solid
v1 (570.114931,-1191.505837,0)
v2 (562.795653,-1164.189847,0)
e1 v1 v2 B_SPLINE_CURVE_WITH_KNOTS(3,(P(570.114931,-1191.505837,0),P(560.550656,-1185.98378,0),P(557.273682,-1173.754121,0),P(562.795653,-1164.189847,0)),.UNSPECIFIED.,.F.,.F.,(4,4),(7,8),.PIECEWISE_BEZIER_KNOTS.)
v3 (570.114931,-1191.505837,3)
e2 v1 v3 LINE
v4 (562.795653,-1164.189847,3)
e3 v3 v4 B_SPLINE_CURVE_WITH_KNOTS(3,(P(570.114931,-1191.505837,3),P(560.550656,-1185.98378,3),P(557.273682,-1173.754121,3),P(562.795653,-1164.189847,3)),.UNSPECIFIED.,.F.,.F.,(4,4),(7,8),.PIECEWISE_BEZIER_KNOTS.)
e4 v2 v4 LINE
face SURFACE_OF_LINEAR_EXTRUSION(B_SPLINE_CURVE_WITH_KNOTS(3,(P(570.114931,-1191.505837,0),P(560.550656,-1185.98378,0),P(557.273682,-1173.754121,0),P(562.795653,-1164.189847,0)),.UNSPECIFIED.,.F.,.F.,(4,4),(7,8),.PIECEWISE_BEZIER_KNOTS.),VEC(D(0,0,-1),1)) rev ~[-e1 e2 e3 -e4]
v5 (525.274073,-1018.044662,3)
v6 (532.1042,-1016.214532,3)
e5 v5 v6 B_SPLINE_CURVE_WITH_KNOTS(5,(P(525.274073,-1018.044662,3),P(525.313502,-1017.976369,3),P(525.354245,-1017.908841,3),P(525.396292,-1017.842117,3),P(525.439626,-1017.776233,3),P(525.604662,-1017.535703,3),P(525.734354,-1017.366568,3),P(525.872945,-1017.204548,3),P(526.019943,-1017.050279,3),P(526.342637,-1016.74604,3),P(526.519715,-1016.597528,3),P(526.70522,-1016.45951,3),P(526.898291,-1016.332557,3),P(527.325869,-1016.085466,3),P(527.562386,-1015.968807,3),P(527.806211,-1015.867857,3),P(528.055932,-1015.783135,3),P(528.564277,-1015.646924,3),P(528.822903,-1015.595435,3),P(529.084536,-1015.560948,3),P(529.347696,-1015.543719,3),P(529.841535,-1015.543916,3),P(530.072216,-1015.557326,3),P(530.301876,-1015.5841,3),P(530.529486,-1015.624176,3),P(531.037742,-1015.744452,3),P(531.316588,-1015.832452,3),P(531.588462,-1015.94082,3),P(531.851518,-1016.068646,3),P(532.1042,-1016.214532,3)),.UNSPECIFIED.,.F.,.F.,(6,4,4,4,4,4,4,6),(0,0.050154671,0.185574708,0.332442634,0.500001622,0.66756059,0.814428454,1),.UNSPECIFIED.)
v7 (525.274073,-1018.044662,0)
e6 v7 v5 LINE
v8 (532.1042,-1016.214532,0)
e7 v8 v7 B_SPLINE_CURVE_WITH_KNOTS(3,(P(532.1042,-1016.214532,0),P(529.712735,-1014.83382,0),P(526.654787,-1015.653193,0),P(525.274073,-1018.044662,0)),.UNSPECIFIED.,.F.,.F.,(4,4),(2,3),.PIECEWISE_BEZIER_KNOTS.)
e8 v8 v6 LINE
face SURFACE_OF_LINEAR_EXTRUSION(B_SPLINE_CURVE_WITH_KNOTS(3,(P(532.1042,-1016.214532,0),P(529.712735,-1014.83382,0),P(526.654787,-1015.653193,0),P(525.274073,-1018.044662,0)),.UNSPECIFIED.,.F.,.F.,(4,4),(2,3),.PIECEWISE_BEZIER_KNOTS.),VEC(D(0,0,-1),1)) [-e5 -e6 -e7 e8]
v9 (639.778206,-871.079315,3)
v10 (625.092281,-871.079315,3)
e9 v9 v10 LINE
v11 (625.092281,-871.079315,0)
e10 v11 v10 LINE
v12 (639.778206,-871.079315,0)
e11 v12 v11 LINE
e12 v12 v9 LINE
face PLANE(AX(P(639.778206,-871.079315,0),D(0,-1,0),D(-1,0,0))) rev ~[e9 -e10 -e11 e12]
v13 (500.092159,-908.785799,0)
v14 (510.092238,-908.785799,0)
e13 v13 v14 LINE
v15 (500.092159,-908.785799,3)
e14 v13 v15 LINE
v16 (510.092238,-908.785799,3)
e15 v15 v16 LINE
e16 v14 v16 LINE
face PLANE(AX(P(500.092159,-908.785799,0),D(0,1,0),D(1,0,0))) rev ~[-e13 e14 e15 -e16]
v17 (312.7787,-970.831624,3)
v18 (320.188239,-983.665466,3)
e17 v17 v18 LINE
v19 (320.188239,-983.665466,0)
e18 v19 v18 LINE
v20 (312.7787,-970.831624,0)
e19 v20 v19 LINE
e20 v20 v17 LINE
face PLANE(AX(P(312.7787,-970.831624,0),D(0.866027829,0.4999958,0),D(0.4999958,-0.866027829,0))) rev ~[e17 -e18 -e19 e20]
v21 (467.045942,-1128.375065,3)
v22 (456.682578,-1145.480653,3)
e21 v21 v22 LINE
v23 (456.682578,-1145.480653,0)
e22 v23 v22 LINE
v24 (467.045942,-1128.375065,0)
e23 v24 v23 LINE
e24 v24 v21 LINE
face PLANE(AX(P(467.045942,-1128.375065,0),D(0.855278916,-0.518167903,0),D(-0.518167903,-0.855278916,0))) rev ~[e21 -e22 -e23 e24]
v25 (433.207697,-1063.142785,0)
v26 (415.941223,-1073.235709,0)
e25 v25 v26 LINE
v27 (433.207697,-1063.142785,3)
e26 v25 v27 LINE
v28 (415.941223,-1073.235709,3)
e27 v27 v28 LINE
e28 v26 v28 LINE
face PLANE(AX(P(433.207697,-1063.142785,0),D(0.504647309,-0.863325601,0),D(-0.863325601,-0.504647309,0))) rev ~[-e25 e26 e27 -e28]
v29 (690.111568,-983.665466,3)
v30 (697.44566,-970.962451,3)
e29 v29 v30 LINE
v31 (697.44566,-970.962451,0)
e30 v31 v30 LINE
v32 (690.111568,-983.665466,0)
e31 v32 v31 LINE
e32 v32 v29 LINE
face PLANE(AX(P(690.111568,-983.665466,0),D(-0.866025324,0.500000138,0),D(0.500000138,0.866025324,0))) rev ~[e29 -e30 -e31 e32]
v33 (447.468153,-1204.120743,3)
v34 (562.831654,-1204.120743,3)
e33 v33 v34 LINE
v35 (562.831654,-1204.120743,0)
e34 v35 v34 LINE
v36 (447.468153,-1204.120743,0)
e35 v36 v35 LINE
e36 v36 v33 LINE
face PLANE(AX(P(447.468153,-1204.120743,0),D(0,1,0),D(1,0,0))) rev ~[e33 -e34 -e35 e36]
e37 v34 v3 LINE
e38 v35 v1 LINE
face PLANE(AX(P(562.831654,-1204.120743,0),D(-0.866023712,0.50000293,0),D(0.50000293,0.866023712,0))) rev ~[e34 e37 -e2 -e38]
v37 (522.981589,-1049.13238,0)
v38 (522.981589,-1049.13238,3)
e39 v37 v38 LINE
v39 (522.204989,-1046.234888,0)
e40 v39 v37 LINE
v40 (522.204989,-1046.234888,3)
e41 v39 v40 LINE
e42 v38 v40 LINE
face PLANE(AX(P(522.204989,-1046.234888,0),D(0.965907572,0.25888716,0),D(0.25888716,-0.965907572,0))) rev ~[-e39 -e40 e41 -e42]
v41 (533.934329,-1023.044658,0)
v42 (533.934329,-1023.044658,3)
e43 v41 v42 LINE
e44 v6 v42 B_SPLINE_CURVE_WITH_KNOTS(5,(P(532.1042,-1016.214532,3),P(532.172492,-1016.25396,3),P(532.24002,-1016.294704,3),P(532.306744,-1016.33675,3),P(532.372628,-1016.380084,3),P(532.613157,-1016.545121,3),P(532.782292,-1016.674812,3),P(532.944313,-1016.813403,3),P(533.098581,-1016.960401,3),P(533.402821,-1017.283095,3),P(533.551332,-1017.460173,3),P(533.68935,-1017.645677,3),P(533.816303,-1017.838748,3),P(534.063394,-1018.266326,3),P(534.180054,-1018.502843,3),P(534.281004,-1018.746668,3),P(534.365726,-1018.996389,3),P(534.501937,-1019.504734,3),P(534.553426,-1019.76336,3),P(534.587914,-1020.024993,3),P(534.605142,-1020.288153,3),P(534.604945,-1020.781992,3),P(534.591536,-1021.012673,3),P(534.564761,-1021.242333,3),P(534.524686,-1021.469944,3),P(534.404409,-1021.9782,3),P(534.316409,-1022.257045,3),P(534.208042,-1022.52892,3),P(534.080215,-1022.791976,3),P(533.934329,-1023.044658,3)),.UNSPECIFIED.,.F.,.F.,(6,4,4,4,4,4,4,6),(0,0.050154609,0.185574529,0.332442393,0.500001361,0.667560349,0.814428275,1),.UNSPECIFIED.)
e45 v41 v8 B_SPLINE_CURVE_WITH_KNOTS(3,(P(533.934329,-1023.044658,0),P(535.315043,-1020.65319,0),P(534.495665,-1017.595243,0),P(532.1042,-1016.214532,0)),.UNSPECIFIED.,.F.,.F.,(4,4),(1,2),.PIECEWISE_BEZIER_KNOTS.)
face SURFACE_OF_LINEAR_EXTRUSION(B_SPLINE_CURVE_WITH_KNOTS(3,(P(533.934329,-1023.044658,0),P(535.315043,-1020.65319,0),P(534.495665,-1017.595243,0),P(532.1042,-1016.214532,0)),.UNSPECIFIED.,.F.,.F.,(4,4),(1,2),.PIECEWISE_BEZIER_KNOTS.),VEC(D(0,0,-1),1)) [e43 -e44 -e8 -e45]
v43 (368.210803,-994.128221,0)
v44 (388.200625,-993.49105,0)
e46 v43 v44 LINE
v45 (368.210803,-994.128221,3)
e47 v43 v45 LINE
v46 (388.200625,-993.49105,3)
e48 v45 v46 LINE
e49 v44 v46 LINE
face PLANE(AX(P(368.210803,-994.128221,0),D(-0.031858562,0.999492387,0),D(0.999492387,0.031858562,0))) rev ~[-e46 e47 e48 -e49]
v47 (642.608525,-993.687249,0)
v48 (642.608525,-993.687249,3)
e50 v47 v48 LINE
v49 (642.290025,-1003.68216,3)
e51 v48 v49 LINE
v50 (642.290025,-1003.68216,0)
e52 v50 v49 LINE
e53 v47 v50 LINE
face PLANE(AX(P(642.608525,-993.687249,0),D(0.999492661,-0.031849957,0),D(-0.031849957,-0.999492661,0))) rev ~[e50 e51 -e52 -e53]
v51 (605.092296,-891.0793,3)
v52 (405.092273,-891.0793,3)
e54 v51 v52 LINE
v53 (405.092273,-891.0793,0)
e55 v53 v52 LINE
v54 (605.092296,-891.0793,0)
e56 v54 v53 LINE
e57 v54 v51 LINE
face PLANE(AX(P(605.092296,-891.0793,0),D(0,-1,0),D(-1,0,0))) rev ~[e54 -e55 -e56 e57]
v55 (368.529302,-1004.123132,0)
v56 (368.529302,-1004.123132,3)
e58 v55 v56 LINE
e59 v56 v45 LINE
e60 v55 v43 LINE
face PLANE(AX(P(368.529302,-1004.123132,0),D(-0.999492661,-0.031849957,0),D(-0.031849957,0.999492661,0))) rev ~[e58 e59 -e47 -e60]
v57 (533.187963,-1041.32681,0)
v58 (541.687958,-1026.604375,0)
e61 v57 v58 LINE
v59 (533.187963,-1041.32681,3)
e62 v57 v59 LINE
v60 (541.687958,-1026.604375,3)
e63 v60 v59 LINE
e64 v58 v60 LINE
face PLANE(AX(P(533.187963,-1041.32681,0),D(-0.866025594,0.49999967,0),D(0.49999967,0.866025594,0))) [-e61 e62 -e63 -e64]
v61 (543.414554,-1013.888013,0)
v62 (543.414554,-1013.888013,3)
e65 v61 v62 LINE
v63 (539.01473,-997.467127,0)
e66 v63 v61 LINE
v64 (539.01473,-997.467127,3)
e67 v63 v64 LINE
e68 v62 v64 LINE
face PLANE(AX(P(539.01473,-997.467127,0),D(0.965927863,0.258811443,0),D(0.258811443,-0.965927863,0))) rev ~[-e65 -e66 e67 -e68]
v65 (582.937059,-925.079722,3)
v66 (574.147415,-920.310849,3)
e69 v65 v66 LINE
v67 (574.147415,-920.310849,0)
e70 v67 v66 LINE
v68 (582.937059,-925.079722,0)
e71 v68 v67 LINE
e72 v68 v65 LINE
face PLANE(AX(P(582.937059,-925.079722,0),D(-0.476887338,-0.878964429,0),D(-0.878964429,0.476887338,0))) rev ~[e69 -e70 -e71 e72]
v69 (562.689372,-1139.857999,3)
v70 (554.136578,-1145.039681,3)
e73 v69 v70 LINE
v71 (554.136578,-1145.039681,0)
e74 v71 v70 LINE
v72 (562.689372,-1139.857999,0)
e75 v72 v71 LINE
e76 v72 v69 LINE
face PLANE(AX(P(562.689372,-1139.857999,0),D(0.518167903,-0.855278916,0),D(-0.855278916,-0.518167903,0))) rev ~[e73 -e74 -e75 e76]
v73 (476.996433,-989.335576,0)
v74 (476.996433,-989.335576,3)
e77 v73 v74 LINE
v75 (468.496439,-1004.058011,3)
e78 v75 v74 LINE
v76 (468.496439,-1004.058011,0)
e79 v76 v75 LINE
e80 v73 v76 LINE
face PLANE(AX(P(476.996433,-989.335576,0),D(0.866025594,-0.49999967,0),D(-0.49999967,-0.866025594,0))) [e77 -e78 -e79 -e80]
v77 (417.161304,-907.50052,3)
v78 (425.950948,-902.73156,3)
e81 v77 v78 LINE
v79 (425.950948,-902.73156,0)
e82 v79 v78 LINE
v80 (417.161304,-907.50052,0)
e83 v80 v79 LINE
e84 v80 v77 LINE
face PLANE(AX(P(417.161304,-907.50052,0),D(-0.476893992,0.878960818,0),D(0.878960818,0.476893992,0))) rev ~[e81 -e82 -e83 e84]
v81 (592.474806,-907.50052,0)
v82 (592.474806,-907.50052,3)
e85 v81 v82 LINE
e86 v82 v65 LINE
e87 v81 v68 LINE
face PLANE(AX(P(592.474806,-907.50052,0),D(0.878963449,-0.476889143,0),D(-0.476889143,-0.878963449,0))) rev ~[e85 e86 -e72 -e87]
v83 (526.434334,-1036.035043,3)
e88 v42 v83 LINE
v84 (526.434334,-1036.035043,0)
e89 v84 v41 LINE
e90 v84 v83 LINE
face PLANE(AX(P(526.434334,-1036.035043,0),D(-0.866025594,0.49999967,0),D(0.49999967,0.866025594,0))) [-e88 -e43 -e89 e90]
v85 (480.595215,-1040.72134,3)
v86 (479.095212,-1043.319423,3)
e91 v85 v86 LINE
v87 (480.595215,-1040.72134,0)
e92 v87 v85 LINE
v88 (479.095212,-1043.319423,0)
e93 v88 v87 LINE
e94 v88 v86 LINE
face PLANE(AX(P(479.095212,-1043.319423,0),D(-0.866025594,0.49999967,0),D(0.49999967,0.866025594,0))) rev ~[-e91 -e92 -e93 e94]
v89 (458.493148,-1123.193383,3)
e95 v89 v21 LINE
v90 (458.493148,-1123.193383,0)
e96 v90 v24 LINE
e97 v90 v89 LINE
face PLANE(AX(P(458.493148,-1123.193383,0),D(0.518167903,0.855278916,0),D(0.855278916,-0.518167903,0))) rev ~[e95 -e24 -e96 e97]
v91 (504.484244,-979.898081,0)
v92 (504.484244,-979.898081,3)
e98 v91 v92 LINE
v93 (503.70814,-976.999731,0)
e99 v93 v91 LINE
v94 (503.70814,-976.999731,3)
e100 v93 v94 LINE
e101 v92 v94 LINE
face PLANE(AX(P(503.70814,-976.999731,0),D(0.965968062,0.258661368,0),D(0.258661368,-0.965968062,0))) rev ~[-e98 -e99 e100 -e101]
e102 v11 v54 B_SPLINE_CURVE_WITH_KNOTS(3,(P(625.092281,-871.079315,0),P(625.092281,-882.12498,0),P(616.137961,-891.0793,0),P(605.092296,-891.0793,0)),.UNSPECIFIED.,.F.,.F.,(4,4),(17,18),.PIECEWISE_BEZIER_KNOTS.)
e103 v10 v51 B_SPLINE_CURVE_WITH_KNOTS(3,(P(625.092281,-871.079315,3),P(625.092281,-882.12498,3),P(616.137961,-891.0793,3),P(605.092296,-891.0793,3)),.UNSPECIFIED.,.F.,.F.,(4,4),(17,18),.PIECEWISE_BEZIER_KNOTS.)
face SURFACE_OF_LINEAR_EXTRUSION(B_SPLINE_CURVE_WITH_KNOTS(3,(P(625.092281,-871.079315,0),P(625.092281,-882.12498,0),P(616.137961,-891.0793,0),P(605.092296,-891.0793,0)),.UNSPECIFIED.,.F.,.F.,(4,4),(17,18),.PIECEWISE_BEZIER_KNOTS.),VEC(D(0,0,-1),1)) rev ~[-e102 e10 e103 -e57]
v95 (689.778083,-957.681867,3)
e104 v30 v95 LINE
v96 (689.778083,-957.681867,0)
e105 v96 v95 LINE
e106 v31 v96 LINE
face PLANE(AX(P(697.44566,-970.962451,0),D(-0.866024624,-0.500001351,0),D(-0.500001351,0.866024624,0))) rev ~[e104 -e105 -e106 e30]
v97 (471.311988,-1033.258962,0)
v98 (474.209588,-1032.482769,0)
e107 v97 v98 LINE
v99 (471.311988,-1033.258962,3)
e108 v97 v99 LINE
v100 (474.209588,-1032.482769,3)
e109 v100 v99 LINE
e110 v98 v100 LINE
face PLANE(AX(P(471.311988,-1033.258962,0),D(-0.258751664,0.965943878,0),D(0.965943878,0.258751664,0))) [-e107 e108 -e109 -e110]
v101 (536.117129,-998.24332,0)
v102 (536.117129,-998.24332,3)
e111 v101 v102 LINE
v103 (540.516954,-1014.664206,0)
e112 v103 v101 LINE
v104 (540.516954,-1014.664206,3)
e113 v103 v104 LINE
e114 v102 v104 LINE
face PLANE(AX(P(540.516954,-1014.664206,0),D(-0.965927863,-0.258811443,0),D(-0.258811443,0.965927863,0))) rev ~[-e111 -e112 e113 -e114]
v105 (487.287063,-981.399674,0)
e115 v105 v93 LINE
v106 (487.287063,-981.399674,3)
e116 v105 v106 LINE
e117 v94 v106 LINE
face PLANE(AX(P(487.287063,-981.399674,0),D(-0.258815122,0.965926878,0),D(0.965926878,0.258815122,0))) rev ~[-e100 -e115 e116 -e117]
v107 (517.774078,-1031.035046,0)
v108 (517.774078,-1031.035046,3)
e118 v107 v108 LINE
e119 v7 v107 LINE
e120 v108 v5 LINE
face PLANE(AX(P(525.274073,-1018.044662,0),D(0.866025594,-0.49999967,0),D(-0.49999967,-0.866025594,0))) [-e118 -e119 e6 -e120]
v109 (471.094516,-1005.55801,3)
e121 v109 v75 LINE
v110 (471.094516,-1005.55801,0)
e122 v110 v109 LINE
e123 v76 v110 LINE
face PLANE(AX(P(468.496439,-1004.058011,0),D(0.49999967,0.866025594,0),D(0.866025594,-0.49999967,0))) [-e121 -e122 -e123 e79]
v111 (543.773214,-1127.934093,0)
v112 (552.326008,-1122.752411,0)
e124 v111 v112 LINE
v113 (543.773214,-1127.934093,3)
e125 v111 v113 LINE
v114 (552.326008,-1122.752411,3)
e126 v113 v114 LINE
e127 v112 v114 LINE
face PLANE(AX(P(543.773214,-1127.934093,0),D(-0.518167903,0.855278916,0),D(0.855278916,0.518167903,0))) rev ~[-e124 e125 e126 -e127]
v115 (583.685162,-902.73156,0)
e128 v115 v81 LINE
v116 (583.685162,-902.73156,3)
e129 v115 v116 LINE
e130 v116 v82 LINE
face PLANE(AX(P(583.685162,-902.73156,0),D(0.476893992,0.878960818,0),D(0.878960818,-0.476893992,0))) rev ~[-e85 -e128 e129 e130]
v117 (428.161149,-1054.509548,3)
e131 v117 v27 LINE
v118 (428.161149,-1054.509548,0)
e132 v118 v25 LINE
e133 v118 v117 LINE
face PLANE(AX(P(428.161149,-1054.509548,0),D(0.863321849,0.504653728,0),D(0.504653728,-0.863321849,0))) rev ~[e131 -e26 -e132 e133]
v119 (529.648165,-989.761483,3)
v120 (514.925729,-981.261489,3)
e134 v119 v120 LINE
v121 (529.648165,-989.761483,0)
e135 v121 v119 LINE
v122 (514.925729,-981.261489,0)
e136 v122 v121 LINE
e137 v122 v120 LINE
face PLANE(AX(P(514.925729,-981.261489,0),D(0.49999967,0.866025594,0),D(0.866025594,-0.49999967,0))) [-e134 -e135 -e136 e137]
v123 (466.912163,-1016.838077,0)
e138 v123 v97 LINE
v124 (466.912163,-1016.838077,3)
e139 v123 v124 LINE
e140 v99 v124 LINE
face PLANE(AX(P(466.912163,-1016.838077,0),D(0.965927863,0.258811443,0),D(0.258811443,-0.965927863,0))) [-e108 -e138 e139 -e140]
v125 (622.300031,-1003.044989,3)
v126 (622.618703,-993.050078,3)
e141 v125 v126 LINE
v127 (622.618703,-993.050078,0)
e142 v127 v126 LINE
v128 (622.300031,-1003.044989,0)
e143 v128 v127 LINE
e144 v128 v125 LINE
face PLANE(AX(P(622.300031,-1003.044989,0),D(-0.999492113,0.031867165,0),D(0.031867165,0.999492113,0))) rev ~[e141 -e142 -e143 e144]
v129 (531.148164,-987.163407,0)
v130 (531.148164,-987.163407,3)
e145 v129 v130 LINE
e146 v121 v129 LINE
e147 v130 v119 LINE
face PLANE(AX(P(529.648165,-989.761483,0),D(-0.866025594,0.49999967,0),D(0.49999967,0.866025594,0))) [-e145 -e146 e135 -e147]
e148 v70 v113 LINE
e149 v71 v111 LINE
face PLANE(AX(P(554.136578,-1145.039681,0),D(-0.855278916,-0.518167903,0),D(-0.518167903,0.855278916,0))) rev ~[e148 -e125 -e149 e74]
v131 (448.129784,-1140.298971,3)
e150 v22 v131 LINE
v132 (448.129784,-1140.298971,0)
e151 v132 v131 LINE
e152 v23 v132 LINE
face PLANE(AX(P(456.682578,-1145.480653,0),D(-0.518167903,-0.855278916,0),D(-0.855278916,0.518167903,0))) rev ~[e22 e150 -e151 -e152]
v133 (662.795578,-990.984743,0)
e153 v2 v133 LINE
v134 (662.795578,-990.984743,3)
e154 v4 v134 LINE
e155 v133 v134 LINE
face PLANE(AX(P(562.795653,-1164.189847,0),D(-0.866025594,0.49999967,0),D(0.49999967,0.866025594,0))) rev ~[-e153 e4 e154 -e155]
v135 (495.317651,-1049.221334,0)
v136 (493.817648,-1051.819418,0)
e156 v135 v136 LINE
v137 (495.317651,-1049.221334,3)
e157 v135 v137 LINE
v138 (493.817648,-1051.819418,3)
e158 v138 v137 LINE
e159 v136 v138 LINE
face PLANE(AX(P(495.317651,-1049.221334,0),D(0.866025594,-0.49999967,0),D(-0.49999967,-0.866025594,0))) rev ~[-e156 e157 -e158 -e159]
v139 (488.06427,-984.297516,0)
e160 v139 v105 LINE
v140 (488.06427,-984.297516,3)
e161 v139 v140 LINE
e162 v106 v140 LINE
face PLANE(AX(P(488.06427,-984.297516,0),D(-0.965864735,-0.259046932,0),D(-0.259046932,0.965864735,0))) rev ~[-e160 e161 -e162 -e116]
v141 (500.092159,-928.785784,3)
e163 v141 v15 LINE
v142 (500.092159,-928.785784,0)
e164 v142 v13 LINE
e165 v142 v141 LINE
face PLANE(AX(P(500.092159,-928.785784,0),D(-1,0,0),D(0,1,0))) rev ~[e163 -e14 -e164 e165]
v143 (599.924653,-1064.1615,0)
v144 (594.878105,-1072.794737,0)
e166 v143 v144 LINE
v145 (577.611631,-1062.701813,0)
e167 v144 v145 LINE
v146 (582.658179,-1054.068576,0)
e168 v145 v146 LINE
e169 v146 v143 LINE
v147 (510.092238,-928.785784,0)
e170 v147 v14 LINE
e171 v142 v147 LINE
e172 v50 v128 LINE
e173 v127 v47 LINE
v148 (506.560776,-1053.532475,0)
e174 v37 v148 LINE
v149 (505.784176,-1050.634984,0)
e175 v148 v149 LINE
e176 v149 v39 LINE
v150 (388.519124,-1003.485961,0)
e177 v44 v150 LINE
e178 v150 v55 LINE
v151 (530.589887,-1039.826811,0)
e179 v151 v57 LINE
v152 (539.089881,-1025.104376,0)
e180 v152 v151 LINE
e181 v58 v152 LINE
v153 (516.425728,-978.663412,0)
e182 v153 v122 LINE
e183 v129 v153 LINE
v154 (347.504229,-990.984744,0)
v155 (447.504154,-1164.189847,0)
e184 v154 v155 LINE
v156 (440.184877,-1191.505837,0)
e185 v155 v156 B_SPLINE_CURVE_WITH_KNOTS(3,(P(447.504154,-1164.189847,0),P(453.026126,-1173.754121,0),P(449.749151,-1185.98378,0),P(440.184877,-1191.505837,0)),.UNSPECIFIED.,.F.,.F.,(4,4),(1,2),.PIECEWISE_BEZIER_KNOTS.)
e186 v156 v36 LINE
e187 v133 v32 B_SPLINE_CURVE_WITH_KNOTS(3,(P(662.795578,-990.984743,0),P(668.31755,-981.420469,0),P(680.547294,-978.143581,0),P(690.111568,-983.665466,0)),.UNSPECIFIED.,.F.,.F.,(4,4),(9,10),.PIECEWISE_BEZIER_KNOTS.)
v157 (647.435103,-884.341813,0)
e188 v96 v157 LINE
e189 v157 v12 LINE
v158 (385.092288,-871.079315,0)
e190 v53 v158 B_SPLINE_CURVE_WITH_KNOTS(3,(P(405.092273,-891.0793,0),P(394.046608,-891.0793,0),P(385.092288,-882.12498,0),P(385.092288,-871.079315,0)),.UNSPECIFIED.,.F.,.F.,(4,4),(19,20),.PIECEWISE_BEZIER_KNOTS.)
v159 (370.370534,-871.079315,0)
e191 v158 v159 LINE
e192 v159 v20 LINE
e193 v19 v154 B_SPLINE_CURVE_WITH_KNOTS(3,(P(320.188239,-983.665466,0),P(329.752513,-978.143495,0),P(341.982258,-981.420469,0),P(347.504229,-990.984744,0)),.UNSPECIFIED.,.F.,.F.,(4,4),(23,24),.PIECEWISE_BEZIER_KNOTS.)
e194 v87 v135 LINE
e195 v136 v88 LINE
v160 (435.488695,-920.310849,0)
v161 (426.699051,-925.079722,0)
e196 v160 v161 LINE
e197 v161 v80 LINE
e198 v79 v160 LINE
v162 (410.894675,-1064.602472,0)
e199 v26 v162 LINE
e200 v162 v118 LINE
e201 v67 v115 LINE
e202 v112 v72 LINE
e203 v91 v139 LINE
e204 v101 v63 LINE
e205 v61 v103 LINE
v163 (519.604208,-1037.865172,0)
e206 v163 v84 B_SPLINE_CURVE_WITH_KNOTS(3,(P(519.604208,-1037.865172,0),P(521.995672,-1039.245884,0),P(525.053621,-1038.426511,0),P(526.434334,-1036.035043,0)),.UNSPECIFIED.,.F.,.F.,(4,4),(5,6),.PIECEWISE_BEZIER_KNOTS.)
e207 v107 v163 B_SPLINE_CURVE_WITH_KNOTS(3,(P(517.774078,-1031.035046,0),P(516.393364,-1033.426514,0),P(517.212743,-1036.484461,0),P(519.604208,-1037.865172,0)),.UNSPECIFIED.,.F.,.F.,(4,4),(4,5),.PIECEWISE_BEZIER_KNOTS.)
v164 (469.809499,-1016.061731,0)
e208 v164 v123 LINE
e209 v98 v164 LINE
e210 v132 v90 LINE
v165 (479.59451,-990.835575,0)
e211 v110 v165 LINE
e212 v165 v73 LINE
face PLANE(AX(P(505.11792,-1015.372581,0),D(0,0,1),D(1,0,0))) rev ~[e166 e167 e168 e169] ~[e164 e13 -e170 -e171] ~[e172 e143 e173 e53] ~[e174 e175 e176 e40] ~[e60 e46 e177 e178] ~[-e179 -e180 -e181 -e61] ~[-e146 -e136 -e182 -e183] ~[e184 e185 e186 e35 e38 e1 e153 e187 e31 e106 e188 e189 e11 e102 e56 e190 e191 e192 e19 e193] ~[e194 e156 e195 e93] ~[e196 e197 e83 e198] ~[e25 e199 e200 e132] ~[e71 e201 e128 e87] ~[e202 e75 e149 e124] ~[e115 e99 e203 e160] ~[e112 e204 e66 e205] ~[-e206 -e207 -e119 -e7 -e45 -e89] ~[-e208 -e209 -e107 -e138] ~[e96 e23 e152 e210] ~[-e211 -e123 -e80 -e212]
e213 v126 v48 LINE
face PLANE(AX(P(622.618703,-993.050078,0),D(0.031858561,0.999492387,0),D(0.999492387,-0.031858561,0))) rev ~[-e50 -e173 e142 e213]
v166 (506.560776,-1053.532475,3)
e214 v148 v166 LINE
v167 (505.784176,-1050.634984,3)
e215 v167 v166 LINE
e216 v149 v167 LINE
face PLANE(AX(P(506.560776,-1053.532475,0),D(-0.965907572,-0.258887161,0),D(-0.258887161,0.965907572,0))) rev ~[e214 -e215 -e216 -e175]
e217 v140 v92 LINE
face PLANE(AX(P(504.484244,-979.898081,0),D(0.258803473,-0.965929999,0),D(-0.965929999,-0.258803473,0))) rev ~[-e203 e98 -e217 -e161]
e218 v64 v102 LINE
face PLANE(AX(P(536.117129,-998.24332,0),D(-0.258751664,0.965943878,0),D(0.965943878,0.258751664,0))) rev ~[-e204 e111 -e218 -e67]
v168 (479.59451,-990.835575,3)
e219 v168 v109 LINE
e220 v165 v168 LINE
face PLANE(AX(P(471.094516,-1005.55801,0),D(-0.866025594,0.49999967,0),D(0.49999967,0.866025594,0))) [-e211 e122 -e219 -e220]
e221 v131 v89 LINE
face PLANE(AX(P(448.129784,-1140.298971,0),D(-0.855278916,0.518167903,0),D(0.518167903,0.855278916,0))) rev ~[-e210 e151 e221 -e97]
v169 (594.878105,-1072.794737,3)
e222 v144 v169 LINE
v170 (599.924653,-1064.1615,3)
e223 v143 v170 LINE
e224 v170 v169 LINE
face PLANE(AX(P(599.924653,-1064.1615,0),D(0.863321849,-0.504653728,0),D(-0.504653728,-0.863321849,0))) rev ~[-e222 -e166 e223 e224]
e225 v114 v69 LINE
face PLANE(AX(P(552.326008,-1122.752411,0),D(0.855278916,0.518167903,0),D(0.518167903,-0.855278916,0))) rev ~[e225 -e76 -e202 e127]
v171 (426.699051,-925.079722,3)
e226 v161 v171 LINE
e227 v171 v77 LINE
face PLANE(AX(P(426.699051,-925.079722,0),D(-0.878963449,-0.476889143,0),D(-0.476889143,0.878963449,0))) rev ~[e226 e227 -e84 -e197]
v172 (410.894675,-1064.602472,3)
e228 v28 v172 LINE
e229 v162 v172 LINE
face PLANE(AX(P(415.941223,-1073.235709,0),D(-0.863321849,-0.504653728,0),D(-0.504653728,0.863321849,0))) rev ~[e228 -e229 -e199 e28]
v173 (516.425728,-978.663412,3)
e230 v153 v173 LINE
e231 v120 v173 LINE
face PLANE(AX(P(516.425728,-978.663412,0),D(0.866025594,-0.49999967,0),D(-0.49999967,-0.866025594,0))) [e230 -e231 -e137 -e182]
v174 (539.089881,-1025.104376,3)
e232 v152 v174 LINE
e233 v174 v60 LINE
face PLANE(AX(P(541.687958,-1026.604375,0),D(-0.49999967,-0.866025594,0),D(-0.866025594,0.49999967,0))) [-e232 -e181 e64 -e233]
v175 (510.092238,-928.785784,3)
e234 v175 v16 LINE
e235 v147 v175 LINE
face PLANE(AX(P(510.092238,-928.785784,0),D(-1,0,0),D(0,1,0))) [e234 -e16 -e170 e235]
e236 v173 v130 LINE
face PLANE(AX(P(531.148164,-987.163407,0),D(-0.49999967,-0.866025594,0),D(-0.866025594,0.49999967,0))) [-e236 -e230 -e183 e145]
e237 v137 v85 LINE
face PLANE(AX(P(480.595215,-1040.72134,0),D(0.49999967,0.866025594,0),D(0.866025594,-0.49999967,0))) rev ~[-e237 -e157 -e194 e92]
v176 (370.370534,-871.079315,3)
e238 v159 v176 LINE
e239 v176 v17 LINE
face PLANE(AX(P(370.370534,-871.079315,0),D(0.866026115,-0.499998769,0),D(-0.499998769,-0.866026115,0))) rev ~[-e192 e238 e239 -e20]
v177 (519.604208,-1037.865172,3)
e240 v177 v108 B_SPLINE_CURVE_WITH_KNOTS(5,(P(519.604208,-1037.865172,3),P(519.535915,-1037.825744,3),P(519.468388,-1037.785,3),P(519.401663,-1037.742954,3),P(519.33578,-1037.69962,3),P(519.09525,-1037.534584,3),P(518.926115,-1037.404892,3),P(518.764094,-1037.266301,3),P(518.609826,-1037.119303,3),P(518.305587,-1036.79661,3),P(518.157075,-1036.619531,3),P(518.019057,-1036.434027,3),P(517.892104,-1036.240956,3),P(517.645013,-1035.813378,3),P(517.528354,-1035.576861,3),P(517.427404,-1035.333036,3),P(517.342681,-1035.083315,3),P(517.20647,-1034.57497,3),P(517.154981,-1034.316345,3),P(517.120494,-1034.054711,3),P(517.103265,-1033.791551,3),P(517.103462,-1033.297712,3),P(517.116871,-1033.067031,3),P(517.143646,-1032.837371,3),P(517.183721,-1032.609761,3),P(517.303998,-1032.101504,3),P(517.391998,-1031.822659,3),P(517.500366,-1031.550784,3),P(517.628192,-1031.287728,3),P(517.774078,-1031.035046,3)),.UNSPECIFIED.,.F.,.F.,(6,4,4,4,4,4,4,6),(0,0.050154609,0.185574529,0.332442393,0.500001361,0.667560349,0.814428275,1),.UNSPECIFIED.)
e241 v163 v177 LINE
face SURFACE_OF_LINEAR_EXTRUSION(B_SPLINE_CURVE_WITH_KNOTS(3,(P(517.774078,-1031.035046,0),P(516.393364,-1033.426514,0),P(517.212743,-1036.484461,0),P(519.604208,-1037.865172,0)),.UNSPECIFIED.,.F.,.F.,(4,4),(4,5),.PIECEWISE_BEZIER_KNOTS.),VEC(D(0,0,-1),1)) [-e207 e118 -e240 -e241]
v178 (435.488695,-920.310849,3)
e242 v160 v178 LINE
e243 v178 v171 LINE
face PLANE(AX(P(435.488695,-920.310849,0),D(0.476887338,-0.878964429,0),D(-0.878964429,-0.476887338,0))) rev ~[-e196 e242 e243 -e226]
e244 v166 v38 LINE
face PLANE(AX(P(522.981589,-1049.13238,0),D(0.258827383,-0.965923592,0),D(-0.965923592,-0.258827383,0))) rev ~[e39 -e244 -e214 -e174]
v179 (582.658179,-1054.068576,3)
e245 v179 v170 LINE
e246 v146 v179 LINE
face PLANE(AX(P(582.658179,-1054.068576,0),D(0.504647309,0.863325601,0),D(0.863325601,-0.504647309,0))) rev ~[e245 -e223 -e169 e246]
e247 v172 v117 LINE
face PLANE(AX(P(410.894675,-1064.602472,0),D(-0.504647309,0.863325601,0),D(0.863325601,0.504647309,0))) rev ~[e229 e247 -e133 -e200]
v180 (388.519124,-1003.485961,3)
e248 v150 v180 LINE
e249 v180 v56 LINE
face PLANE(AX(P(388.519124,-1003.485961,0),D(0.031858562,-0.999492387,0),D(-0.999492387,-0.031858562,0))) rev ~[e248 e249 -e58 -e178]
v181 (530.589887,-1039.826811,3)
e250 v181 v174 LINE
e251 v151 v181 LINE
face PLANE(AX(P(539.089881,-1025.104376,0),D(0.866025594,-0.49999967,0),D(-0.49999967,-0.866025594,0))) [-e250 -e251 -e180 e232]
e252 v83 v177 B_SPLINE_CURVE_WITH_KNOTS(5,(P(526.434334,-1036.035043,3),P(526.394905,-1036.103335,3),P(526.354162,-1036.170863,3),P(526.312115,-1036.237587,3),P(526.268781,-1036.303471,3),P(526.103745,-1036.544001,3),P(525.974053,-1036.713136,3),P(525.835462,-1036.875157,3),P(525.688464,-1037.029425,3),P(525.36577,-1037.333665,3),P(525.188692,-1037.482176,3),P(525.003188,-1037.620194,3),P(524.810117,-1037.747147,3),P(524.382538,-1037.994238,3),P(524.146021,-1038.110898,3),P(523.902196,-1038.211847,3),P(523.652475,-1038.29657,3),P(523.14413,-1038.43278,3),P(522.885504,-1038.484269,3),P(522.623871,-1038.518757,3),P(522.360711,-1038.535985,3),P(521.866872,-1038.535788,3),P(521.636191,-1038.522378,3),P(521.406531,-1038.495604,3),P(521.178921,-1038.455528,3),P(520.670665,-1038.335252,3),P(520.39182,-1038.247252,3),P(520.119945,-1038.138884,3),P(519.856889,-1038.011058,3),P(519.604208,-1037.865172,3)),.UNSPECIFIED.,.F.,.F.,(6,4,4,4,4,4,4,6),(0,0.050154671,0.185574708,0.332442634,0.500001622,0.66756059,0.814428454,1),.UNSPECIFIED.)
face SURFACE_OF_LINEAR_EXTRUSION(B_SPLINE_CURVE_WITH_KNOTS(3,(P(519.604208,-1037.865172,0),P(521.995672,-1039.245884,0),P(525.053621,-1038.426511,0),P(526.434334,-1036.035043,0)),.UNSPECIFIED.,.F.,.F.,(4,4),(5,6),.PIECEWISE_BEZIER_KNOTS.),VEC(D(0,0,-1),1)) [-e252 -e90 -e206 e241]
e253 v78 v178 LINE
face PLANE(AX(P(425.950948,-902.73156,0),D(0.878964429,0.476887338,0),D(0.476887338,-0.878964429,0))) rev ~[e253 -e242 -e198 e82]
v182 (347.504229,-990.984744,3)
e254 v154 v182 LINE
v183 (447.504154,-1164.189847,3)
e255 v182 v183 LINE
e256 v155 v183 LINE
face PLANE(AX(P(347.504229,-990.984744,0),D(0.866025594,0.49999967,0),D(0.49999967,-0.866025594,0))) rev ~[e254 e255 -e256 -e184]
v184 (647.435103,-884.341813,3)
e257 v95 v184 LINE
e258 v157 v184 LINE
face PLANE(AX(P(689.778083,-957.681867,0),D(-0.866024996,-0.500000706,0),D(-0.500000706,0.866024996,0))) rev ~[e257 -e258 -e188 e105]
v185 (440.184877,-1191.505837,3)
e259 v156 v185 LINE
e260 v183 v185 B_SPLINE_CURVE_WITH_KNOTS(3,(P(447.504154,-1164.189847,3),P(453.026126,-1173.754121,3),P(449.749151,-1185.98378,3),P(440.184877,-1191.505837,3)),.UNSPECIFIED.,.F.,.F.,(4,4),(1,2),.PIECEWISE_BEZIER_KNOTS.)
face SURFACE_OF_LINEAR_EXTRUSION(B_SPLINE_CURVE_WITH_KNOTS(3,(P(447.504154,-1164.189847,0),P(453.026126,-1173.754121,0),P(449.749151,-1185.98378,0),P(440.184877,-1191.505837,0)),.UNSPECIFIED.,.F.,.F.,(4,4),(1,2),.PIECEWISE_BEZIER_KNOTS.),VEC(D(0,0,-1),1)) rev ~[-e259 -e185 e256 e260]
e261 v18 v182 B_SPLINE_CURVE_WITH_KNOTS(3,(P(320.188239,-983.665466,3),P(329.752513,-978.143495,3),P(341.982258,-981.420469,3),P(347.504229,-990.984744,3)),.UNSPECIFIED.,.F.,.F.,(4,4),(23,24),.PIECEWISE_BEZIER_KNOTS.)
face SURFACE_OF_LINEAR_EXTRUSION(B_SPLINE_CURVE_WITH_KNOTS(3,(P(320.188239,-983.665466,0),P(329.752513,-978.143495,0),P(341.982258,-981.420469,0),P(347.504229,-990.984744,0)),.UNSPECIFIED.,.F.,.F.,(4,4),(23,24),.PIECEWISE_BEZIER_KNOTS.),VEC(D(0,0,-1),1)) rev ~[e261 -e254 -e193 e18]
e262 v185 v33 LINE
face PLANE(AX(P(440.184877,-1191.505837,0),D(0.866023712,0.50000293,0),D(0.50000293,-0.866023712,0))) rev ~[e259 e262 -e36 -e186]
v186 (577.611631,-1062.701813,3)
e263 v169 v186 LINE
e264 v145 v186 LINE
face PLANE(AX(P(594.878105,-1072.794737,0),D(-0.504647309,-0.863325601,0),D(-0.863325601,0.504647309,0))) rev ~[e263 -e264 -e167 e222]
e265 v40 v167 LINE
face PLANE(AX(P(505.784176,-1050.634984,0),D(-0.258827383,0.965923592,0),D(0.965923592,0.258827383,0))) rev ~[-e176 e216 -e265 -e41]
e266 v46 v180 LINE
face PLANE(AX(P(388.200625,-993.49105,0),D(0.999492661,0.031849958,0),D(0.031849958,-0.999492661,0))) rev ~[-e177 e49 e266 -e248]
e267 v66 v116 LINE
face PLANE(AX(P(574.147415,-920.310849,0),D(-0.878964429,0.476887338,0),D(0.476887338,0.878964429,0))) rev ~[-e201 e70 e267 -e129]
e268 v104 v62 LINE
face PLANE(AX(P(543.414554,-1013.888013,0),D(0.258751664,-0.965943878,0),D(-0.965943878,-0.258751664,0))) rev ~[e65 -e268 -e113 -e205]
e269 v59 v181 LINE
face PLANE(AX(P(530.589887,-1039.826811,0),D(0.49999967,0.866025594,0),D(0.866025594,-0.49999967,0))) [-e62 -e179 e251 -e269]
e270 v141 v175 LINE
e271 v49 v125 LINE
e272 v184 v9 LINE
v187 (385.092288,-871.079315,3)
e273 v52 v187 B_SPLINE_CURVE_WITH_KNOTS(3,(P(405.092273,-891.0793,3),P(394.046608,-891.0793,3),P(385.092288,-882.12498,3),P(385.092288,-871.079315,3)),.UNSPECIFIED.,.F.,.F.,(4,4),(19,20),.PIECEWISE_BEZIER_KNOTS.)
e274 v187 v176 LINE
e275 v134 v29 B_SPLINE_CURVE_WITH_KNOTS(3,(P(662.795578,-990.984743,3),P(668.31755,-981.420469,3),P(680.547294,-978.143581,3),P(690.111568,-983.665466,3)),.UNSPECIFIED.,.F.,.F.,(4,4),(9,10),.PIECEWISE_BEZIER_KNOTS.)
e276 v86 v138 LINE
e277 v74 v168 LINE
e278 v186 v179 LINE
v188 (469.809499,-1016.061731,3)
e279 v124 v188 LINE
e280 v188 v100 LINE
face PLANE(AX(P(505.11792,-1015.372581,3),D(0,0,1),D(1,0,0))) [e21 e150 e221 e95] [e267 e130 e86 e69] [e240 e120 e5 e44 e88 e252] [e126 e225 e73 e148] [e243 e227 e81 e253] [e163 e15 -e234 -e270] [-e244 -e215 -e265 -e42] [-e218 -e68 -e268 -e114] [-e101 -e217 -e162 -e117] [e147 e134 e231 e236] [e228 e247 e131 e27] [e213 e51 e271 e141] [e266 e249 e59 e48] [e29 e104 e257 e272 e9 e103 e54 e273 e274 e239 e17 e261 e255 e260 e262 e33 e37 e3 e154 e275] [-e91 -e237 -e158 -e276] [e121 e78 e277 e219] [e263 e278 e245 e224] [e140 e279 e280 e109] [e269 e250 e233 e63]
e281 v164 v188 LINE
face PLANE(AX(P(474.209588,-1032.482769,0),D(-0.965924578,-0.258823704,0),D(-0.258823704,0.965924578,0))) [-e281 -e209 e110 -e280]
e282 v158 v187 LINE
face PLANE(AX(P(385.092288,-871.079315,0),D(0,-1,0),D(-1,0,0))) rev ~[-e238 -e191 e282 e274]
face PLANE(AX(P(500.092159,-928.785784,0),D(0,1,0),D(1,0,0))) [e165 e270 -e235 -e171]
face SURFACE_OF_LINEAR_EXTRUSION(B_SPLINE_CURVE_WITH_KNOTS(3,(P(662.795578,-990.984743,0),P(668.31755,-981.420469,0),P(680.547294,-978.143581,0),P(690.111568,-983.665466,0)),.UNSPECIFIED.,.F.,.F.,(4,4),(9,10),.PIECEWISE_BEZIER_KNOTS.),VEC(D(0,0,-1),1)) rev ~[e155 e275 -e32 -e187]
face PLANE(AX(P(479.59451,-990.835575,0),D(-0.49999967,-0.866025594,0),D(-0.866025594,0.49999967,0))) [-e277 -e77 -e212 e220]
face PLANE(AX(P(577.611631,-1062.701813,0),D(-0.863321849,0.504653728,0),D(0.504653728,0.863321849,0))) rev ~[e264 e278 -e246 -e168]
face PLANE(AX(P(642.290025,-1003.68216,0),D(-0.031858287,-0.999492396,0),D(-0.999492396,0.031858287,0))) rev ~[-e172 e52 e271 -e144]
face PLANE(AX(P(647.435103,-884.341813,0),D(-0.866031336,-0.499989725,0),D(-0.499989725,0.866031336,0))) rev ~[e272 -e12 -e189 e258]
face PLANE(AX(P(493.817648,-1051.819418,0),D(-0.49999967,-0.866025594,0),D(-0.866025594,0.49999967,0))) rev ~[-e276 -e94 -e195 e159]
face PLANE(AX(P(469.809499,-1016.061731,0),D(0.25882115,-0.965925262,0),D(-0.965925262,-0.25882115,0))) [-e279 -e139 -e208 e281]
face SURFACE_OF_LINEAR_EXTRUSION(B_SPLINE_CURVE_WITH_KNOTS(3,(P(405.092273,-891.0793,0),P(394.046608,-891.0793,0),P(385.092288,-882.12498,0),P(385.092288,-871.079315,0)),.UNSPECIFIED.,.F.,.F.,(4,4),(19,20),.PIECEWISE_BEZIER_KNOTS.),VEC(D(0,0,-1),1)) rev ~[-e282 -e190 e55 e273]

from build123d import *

# Parameters (mm, degrees)
MODEL_W                 = 10.000078668
MODEL_H                 = 19.99998508
BOSS_EXTRU_1_DEPTH      = 3
ENL_V_MAT_EXTRU_2_DEPTH = 1392.526576556


with BuildPart() as part:
    # Model → Boss.-Extru.1 (new body)
    with BuildSketch(Plane.XY):
        with BuildLine():
            Line((347.504229039, -990.984743501), (447.504154456, -1164.189847387))
            add(Edge.make_bspline(
                [(447.504154456, -1164.189847387), (453.026125757, -1173.754121475), (449.749150931, -1185.983779814), (440.184876843, -1191.505837242)],
                knots=[1, 1, 1, 1, 2, 2, 2, 2], degree=3))
            Line((440.184876843, -1191.505837242), (447.468153212, -1204.120743383))
            Line((447.468153212, -1204.120743383), (462.904937066, -1204.120743383))
            Line((462.904937066, -1204.120743383), (547.394870334, -1204.120743383))
            Line((547.394870334, -1204.120743383), (562.831654188, -1204.120743383))
            Line((562.831654188, -1204.120743383), (570.114930554, -1191.505837241))
            add(Edge.make_bspline(
                [(570.114930554, -1191.505837241), (560.550656465, -1185.983779815), (557.273681638, -1173.754121476), (562.795652937, -1164.189847387)],
                knots=[7, 7, 7, 7, 8, 8, 8, 8], degree=3))
            Line((562.795652937, -1164.189847387), (662.795578323, -990.984743483))
            add(Edge.make_bspline(
                [(662.795578323, -990.984743483), (668.317549622, -981.420469394), (680.547294088, -978.143580694), (690.111568177, -983.665465865)],
                knots=[9, 9, 9, 9, 10, 10, 10, 10], degree=3))
            Line((690.111568177, -983.665465865), (697.445659701, -970.962451406))
            Line((697.445659701, -970.962451406), (689.778082931, -957.6818667))
            Line((689.778082931, -957.6818667), (647.435103324, -884.341812722))
            Line((647.435103324, -884.341812722), (639.77820635, -871.079314757))
            Line((639.77820635, -871.079314757), (625.092281057, -871.079314757))
            add(Edge.make_bspline(
                [(625.092281057, -871.079314757), (625.092281058, -882.124979905), (616.137961126, -891.079299838), (605.092295979, -891.079299839)],
                knots=[17, 17, 17, 17, 18, 18, 18, 18], degree=3))
            Line((605.092295979, -891.079299839), (405.092272921, -891.079299839))
            add(Edge.make_bspline(
                [(405.092272921, -891.079299839), (394.046607773, -891.07929984), (385.09228784, -882.124979908), (385.092287839, -871.079314761)],
                knots=[19, 19, 19, 19, 20, 20, 20, 20], degree=3))
            Line((385.092287839, -871.079314761), (370.370533553, -871.079314761))
            Line((370.370533553, -871.079314761), (312.778700066, -970.831623929))
            Line((312.778700066, -970.831623929), (320.188239184, -983.665465888))
            add(Edge.make_bspline(
                [(320.188239184, -983.665465888), (329.752513272, -978.143494587), (341.982257738, -981.420469413), (347.504229039, -990.984743501)],
                knots=[23, 23, 23, 23, 24, 24, 24, 24], degree=3))
        make_face()
        Polygon((622.618702509, -993.05007822), (642.608524558, -993.687248628), (642.290025481, -1003.682159653), (622.300031178, -1003.044989244), align=None, mode=Mode.SUBTRACT)
        Polygon((594.878104643, -1072.794736968), (577.611630575, -1062.701812979), (582.658178697, -1054.068575945), (599.924652765, -1064.161499934), align=None, mode=Mode.SUBTRACT)
        Polygon((583.685161648, -902.731560157), (592.474806017, -907.50051971), (582.937059165, -925.079722321), (574.147414796, -920.310848895), align=None, mode=Mode.SUBTRACT)
        Polygon((552.326007751, -1122.752411126), (562.689371739, -1139.857999232), (554.136577686, -1145.039681226), (543.773213697, -1127.93409312), align=None, mode=Mode.SUBTRACT)
        with Locations((505.092198326, -918.785791257)):
            Rectangle(MODEL_W, MODEL_H, mode=Mode.SUBTRACT)
        Polygon((458.493147779, -1123.193383356), (467.045941833, -1128.375065349), (456.682577848, -1145.480653457), (448.129783794, -1140.298971465), align=None, mode=Mode.SUBTRACT)
        Polygon((425.950948052, -902.731560171), (435.488694907, -920.310848907), (426.699050539, -925.079722335), (417.161303684, -907.500519726), align=None, mode=Mode.SUBTRACT)
        Polygon((428.161149075, -1054.509548181), (433.207697199, -1063.142785214), (415.941223133, -1073.235709206), (410.894675009, -1064.602472173), align=None, mode=Mode.SUBTRACT)
        Polygon((388.200625252, -993.491050463), (388.519124331, -1003.485961487), (368.529302282, -1004.123131899), (368.210803204, -994.128220875), align=None, mode=Mode.SUBTRACT)
    extrude(amount=BOSS_EXTRU_1_DEPTH)

    # Esquisse2 → Enlèv. mat.-Extru.2 (cut, through all)
    with BuildSketch(Plane(origin=(0, 0, 0), x_dir=(-1, 0, 0), z_dir=(0, 0, -1))):
        with BuildLine():
            Line((-526.434334105, -1036.035042627), (-533.934329365, -1023.044658352))
            add(Edge.make_bspline(
                [(-533.934329365, -1023.044658352), (-535.315042909, -1020.653190239), (-534.495664502, -1017.595243477), (-532.104199693, -1016.21453184)],
                knots=[1, 1, 1, 1, 2, 2, 2, 2], degree=3))
            add(Edge.make_bspline(
                [(-532.104199693, -1016.21453184), (-529.712734884, -1014.833820204), (-526.654786726, -1015.653193399), (-525.274073182, -1018.044661512)],
                knots=[2, 2, 2, 2, 3, 3, 3, 3], degree=3))
            Line((-525.274073182, -1018.044661512), (-517.774077922, -1031.035045787))
            add(Edge.make_bspline(
                [(-517.774077922, -1031.035045787), (-516.393364378, -1033.4265139), (-517.212742785, -1036.484460663), (-519.604207594, -1037.865172299)],
                knots=[4, 4, 4, 4, 5, 5, 5, 5], degree=3))
            add(Edge.make_bspline(
                [(-519.604207594, -1037.865172299), (-521.995672403, -1039.245883936), (-525.053620562, -1038.42651074), (-526.434334105, -1036.035042627)],
                knots=[5, 5, 5, 5, 6, 6, 6, 6], degree=3))
        make_face()
        Polygon((-466.912163294, -1016.838076711), (-471.311987833, -1033.258962352), (-474.209588183, -1032.482769314), (-469.809499355, -1016.061731085), align=None)
        Polygon((-505.784176347, -1050.63498378), (-522.204989382, -1046.234888271), (-522.981588875, -1049.132379712), (-506.560775841, -1053.532475221), align=None)
        Polygon((-543.414554373, -1013.888013101), (-540.516954023, -1014.664206139), (-536.117129484, -998.243320497), (-539.014729835, -997.467127459), align=None)
        Polygon((-487.287063031, -981.399673764), (-503.708140356, -976.999730842), (-504.48424394, -979.898081226), (-488.064270392, -984.297516156), align=None)
        Polygon((-539.08988115, -1025.104375563), (-530.589886522, -1039.826811075), (-533.187963377, -1041.326810127), (-541.687958005, -1026.604374615), align=None)
        Polygon((-516.425728308, -978.663411899), (-514.925729256, -981.261488754), (-529.648164768, -989.761483382), (-531.14816382, -987.163406527), align=None)
        Polygon((-479.095212457, -1043.319423279), (-480.595215323, -1040.721339817), (-495.317650835, -1049.221334445), (-493.817647969, -1051.819417907), align=None)
        Polygon((-476.996433275, -989.335575737), (-468.496438647, -1004.058011249), (-471.094515502, -1005.558010301), (-479.59451013, -990.835574789), align=None)
    extrude(amount=-ENL_V_MAT_EXTRU_2_DEPTH, mode=Mode.SUBTRACT)


solid = part.part
